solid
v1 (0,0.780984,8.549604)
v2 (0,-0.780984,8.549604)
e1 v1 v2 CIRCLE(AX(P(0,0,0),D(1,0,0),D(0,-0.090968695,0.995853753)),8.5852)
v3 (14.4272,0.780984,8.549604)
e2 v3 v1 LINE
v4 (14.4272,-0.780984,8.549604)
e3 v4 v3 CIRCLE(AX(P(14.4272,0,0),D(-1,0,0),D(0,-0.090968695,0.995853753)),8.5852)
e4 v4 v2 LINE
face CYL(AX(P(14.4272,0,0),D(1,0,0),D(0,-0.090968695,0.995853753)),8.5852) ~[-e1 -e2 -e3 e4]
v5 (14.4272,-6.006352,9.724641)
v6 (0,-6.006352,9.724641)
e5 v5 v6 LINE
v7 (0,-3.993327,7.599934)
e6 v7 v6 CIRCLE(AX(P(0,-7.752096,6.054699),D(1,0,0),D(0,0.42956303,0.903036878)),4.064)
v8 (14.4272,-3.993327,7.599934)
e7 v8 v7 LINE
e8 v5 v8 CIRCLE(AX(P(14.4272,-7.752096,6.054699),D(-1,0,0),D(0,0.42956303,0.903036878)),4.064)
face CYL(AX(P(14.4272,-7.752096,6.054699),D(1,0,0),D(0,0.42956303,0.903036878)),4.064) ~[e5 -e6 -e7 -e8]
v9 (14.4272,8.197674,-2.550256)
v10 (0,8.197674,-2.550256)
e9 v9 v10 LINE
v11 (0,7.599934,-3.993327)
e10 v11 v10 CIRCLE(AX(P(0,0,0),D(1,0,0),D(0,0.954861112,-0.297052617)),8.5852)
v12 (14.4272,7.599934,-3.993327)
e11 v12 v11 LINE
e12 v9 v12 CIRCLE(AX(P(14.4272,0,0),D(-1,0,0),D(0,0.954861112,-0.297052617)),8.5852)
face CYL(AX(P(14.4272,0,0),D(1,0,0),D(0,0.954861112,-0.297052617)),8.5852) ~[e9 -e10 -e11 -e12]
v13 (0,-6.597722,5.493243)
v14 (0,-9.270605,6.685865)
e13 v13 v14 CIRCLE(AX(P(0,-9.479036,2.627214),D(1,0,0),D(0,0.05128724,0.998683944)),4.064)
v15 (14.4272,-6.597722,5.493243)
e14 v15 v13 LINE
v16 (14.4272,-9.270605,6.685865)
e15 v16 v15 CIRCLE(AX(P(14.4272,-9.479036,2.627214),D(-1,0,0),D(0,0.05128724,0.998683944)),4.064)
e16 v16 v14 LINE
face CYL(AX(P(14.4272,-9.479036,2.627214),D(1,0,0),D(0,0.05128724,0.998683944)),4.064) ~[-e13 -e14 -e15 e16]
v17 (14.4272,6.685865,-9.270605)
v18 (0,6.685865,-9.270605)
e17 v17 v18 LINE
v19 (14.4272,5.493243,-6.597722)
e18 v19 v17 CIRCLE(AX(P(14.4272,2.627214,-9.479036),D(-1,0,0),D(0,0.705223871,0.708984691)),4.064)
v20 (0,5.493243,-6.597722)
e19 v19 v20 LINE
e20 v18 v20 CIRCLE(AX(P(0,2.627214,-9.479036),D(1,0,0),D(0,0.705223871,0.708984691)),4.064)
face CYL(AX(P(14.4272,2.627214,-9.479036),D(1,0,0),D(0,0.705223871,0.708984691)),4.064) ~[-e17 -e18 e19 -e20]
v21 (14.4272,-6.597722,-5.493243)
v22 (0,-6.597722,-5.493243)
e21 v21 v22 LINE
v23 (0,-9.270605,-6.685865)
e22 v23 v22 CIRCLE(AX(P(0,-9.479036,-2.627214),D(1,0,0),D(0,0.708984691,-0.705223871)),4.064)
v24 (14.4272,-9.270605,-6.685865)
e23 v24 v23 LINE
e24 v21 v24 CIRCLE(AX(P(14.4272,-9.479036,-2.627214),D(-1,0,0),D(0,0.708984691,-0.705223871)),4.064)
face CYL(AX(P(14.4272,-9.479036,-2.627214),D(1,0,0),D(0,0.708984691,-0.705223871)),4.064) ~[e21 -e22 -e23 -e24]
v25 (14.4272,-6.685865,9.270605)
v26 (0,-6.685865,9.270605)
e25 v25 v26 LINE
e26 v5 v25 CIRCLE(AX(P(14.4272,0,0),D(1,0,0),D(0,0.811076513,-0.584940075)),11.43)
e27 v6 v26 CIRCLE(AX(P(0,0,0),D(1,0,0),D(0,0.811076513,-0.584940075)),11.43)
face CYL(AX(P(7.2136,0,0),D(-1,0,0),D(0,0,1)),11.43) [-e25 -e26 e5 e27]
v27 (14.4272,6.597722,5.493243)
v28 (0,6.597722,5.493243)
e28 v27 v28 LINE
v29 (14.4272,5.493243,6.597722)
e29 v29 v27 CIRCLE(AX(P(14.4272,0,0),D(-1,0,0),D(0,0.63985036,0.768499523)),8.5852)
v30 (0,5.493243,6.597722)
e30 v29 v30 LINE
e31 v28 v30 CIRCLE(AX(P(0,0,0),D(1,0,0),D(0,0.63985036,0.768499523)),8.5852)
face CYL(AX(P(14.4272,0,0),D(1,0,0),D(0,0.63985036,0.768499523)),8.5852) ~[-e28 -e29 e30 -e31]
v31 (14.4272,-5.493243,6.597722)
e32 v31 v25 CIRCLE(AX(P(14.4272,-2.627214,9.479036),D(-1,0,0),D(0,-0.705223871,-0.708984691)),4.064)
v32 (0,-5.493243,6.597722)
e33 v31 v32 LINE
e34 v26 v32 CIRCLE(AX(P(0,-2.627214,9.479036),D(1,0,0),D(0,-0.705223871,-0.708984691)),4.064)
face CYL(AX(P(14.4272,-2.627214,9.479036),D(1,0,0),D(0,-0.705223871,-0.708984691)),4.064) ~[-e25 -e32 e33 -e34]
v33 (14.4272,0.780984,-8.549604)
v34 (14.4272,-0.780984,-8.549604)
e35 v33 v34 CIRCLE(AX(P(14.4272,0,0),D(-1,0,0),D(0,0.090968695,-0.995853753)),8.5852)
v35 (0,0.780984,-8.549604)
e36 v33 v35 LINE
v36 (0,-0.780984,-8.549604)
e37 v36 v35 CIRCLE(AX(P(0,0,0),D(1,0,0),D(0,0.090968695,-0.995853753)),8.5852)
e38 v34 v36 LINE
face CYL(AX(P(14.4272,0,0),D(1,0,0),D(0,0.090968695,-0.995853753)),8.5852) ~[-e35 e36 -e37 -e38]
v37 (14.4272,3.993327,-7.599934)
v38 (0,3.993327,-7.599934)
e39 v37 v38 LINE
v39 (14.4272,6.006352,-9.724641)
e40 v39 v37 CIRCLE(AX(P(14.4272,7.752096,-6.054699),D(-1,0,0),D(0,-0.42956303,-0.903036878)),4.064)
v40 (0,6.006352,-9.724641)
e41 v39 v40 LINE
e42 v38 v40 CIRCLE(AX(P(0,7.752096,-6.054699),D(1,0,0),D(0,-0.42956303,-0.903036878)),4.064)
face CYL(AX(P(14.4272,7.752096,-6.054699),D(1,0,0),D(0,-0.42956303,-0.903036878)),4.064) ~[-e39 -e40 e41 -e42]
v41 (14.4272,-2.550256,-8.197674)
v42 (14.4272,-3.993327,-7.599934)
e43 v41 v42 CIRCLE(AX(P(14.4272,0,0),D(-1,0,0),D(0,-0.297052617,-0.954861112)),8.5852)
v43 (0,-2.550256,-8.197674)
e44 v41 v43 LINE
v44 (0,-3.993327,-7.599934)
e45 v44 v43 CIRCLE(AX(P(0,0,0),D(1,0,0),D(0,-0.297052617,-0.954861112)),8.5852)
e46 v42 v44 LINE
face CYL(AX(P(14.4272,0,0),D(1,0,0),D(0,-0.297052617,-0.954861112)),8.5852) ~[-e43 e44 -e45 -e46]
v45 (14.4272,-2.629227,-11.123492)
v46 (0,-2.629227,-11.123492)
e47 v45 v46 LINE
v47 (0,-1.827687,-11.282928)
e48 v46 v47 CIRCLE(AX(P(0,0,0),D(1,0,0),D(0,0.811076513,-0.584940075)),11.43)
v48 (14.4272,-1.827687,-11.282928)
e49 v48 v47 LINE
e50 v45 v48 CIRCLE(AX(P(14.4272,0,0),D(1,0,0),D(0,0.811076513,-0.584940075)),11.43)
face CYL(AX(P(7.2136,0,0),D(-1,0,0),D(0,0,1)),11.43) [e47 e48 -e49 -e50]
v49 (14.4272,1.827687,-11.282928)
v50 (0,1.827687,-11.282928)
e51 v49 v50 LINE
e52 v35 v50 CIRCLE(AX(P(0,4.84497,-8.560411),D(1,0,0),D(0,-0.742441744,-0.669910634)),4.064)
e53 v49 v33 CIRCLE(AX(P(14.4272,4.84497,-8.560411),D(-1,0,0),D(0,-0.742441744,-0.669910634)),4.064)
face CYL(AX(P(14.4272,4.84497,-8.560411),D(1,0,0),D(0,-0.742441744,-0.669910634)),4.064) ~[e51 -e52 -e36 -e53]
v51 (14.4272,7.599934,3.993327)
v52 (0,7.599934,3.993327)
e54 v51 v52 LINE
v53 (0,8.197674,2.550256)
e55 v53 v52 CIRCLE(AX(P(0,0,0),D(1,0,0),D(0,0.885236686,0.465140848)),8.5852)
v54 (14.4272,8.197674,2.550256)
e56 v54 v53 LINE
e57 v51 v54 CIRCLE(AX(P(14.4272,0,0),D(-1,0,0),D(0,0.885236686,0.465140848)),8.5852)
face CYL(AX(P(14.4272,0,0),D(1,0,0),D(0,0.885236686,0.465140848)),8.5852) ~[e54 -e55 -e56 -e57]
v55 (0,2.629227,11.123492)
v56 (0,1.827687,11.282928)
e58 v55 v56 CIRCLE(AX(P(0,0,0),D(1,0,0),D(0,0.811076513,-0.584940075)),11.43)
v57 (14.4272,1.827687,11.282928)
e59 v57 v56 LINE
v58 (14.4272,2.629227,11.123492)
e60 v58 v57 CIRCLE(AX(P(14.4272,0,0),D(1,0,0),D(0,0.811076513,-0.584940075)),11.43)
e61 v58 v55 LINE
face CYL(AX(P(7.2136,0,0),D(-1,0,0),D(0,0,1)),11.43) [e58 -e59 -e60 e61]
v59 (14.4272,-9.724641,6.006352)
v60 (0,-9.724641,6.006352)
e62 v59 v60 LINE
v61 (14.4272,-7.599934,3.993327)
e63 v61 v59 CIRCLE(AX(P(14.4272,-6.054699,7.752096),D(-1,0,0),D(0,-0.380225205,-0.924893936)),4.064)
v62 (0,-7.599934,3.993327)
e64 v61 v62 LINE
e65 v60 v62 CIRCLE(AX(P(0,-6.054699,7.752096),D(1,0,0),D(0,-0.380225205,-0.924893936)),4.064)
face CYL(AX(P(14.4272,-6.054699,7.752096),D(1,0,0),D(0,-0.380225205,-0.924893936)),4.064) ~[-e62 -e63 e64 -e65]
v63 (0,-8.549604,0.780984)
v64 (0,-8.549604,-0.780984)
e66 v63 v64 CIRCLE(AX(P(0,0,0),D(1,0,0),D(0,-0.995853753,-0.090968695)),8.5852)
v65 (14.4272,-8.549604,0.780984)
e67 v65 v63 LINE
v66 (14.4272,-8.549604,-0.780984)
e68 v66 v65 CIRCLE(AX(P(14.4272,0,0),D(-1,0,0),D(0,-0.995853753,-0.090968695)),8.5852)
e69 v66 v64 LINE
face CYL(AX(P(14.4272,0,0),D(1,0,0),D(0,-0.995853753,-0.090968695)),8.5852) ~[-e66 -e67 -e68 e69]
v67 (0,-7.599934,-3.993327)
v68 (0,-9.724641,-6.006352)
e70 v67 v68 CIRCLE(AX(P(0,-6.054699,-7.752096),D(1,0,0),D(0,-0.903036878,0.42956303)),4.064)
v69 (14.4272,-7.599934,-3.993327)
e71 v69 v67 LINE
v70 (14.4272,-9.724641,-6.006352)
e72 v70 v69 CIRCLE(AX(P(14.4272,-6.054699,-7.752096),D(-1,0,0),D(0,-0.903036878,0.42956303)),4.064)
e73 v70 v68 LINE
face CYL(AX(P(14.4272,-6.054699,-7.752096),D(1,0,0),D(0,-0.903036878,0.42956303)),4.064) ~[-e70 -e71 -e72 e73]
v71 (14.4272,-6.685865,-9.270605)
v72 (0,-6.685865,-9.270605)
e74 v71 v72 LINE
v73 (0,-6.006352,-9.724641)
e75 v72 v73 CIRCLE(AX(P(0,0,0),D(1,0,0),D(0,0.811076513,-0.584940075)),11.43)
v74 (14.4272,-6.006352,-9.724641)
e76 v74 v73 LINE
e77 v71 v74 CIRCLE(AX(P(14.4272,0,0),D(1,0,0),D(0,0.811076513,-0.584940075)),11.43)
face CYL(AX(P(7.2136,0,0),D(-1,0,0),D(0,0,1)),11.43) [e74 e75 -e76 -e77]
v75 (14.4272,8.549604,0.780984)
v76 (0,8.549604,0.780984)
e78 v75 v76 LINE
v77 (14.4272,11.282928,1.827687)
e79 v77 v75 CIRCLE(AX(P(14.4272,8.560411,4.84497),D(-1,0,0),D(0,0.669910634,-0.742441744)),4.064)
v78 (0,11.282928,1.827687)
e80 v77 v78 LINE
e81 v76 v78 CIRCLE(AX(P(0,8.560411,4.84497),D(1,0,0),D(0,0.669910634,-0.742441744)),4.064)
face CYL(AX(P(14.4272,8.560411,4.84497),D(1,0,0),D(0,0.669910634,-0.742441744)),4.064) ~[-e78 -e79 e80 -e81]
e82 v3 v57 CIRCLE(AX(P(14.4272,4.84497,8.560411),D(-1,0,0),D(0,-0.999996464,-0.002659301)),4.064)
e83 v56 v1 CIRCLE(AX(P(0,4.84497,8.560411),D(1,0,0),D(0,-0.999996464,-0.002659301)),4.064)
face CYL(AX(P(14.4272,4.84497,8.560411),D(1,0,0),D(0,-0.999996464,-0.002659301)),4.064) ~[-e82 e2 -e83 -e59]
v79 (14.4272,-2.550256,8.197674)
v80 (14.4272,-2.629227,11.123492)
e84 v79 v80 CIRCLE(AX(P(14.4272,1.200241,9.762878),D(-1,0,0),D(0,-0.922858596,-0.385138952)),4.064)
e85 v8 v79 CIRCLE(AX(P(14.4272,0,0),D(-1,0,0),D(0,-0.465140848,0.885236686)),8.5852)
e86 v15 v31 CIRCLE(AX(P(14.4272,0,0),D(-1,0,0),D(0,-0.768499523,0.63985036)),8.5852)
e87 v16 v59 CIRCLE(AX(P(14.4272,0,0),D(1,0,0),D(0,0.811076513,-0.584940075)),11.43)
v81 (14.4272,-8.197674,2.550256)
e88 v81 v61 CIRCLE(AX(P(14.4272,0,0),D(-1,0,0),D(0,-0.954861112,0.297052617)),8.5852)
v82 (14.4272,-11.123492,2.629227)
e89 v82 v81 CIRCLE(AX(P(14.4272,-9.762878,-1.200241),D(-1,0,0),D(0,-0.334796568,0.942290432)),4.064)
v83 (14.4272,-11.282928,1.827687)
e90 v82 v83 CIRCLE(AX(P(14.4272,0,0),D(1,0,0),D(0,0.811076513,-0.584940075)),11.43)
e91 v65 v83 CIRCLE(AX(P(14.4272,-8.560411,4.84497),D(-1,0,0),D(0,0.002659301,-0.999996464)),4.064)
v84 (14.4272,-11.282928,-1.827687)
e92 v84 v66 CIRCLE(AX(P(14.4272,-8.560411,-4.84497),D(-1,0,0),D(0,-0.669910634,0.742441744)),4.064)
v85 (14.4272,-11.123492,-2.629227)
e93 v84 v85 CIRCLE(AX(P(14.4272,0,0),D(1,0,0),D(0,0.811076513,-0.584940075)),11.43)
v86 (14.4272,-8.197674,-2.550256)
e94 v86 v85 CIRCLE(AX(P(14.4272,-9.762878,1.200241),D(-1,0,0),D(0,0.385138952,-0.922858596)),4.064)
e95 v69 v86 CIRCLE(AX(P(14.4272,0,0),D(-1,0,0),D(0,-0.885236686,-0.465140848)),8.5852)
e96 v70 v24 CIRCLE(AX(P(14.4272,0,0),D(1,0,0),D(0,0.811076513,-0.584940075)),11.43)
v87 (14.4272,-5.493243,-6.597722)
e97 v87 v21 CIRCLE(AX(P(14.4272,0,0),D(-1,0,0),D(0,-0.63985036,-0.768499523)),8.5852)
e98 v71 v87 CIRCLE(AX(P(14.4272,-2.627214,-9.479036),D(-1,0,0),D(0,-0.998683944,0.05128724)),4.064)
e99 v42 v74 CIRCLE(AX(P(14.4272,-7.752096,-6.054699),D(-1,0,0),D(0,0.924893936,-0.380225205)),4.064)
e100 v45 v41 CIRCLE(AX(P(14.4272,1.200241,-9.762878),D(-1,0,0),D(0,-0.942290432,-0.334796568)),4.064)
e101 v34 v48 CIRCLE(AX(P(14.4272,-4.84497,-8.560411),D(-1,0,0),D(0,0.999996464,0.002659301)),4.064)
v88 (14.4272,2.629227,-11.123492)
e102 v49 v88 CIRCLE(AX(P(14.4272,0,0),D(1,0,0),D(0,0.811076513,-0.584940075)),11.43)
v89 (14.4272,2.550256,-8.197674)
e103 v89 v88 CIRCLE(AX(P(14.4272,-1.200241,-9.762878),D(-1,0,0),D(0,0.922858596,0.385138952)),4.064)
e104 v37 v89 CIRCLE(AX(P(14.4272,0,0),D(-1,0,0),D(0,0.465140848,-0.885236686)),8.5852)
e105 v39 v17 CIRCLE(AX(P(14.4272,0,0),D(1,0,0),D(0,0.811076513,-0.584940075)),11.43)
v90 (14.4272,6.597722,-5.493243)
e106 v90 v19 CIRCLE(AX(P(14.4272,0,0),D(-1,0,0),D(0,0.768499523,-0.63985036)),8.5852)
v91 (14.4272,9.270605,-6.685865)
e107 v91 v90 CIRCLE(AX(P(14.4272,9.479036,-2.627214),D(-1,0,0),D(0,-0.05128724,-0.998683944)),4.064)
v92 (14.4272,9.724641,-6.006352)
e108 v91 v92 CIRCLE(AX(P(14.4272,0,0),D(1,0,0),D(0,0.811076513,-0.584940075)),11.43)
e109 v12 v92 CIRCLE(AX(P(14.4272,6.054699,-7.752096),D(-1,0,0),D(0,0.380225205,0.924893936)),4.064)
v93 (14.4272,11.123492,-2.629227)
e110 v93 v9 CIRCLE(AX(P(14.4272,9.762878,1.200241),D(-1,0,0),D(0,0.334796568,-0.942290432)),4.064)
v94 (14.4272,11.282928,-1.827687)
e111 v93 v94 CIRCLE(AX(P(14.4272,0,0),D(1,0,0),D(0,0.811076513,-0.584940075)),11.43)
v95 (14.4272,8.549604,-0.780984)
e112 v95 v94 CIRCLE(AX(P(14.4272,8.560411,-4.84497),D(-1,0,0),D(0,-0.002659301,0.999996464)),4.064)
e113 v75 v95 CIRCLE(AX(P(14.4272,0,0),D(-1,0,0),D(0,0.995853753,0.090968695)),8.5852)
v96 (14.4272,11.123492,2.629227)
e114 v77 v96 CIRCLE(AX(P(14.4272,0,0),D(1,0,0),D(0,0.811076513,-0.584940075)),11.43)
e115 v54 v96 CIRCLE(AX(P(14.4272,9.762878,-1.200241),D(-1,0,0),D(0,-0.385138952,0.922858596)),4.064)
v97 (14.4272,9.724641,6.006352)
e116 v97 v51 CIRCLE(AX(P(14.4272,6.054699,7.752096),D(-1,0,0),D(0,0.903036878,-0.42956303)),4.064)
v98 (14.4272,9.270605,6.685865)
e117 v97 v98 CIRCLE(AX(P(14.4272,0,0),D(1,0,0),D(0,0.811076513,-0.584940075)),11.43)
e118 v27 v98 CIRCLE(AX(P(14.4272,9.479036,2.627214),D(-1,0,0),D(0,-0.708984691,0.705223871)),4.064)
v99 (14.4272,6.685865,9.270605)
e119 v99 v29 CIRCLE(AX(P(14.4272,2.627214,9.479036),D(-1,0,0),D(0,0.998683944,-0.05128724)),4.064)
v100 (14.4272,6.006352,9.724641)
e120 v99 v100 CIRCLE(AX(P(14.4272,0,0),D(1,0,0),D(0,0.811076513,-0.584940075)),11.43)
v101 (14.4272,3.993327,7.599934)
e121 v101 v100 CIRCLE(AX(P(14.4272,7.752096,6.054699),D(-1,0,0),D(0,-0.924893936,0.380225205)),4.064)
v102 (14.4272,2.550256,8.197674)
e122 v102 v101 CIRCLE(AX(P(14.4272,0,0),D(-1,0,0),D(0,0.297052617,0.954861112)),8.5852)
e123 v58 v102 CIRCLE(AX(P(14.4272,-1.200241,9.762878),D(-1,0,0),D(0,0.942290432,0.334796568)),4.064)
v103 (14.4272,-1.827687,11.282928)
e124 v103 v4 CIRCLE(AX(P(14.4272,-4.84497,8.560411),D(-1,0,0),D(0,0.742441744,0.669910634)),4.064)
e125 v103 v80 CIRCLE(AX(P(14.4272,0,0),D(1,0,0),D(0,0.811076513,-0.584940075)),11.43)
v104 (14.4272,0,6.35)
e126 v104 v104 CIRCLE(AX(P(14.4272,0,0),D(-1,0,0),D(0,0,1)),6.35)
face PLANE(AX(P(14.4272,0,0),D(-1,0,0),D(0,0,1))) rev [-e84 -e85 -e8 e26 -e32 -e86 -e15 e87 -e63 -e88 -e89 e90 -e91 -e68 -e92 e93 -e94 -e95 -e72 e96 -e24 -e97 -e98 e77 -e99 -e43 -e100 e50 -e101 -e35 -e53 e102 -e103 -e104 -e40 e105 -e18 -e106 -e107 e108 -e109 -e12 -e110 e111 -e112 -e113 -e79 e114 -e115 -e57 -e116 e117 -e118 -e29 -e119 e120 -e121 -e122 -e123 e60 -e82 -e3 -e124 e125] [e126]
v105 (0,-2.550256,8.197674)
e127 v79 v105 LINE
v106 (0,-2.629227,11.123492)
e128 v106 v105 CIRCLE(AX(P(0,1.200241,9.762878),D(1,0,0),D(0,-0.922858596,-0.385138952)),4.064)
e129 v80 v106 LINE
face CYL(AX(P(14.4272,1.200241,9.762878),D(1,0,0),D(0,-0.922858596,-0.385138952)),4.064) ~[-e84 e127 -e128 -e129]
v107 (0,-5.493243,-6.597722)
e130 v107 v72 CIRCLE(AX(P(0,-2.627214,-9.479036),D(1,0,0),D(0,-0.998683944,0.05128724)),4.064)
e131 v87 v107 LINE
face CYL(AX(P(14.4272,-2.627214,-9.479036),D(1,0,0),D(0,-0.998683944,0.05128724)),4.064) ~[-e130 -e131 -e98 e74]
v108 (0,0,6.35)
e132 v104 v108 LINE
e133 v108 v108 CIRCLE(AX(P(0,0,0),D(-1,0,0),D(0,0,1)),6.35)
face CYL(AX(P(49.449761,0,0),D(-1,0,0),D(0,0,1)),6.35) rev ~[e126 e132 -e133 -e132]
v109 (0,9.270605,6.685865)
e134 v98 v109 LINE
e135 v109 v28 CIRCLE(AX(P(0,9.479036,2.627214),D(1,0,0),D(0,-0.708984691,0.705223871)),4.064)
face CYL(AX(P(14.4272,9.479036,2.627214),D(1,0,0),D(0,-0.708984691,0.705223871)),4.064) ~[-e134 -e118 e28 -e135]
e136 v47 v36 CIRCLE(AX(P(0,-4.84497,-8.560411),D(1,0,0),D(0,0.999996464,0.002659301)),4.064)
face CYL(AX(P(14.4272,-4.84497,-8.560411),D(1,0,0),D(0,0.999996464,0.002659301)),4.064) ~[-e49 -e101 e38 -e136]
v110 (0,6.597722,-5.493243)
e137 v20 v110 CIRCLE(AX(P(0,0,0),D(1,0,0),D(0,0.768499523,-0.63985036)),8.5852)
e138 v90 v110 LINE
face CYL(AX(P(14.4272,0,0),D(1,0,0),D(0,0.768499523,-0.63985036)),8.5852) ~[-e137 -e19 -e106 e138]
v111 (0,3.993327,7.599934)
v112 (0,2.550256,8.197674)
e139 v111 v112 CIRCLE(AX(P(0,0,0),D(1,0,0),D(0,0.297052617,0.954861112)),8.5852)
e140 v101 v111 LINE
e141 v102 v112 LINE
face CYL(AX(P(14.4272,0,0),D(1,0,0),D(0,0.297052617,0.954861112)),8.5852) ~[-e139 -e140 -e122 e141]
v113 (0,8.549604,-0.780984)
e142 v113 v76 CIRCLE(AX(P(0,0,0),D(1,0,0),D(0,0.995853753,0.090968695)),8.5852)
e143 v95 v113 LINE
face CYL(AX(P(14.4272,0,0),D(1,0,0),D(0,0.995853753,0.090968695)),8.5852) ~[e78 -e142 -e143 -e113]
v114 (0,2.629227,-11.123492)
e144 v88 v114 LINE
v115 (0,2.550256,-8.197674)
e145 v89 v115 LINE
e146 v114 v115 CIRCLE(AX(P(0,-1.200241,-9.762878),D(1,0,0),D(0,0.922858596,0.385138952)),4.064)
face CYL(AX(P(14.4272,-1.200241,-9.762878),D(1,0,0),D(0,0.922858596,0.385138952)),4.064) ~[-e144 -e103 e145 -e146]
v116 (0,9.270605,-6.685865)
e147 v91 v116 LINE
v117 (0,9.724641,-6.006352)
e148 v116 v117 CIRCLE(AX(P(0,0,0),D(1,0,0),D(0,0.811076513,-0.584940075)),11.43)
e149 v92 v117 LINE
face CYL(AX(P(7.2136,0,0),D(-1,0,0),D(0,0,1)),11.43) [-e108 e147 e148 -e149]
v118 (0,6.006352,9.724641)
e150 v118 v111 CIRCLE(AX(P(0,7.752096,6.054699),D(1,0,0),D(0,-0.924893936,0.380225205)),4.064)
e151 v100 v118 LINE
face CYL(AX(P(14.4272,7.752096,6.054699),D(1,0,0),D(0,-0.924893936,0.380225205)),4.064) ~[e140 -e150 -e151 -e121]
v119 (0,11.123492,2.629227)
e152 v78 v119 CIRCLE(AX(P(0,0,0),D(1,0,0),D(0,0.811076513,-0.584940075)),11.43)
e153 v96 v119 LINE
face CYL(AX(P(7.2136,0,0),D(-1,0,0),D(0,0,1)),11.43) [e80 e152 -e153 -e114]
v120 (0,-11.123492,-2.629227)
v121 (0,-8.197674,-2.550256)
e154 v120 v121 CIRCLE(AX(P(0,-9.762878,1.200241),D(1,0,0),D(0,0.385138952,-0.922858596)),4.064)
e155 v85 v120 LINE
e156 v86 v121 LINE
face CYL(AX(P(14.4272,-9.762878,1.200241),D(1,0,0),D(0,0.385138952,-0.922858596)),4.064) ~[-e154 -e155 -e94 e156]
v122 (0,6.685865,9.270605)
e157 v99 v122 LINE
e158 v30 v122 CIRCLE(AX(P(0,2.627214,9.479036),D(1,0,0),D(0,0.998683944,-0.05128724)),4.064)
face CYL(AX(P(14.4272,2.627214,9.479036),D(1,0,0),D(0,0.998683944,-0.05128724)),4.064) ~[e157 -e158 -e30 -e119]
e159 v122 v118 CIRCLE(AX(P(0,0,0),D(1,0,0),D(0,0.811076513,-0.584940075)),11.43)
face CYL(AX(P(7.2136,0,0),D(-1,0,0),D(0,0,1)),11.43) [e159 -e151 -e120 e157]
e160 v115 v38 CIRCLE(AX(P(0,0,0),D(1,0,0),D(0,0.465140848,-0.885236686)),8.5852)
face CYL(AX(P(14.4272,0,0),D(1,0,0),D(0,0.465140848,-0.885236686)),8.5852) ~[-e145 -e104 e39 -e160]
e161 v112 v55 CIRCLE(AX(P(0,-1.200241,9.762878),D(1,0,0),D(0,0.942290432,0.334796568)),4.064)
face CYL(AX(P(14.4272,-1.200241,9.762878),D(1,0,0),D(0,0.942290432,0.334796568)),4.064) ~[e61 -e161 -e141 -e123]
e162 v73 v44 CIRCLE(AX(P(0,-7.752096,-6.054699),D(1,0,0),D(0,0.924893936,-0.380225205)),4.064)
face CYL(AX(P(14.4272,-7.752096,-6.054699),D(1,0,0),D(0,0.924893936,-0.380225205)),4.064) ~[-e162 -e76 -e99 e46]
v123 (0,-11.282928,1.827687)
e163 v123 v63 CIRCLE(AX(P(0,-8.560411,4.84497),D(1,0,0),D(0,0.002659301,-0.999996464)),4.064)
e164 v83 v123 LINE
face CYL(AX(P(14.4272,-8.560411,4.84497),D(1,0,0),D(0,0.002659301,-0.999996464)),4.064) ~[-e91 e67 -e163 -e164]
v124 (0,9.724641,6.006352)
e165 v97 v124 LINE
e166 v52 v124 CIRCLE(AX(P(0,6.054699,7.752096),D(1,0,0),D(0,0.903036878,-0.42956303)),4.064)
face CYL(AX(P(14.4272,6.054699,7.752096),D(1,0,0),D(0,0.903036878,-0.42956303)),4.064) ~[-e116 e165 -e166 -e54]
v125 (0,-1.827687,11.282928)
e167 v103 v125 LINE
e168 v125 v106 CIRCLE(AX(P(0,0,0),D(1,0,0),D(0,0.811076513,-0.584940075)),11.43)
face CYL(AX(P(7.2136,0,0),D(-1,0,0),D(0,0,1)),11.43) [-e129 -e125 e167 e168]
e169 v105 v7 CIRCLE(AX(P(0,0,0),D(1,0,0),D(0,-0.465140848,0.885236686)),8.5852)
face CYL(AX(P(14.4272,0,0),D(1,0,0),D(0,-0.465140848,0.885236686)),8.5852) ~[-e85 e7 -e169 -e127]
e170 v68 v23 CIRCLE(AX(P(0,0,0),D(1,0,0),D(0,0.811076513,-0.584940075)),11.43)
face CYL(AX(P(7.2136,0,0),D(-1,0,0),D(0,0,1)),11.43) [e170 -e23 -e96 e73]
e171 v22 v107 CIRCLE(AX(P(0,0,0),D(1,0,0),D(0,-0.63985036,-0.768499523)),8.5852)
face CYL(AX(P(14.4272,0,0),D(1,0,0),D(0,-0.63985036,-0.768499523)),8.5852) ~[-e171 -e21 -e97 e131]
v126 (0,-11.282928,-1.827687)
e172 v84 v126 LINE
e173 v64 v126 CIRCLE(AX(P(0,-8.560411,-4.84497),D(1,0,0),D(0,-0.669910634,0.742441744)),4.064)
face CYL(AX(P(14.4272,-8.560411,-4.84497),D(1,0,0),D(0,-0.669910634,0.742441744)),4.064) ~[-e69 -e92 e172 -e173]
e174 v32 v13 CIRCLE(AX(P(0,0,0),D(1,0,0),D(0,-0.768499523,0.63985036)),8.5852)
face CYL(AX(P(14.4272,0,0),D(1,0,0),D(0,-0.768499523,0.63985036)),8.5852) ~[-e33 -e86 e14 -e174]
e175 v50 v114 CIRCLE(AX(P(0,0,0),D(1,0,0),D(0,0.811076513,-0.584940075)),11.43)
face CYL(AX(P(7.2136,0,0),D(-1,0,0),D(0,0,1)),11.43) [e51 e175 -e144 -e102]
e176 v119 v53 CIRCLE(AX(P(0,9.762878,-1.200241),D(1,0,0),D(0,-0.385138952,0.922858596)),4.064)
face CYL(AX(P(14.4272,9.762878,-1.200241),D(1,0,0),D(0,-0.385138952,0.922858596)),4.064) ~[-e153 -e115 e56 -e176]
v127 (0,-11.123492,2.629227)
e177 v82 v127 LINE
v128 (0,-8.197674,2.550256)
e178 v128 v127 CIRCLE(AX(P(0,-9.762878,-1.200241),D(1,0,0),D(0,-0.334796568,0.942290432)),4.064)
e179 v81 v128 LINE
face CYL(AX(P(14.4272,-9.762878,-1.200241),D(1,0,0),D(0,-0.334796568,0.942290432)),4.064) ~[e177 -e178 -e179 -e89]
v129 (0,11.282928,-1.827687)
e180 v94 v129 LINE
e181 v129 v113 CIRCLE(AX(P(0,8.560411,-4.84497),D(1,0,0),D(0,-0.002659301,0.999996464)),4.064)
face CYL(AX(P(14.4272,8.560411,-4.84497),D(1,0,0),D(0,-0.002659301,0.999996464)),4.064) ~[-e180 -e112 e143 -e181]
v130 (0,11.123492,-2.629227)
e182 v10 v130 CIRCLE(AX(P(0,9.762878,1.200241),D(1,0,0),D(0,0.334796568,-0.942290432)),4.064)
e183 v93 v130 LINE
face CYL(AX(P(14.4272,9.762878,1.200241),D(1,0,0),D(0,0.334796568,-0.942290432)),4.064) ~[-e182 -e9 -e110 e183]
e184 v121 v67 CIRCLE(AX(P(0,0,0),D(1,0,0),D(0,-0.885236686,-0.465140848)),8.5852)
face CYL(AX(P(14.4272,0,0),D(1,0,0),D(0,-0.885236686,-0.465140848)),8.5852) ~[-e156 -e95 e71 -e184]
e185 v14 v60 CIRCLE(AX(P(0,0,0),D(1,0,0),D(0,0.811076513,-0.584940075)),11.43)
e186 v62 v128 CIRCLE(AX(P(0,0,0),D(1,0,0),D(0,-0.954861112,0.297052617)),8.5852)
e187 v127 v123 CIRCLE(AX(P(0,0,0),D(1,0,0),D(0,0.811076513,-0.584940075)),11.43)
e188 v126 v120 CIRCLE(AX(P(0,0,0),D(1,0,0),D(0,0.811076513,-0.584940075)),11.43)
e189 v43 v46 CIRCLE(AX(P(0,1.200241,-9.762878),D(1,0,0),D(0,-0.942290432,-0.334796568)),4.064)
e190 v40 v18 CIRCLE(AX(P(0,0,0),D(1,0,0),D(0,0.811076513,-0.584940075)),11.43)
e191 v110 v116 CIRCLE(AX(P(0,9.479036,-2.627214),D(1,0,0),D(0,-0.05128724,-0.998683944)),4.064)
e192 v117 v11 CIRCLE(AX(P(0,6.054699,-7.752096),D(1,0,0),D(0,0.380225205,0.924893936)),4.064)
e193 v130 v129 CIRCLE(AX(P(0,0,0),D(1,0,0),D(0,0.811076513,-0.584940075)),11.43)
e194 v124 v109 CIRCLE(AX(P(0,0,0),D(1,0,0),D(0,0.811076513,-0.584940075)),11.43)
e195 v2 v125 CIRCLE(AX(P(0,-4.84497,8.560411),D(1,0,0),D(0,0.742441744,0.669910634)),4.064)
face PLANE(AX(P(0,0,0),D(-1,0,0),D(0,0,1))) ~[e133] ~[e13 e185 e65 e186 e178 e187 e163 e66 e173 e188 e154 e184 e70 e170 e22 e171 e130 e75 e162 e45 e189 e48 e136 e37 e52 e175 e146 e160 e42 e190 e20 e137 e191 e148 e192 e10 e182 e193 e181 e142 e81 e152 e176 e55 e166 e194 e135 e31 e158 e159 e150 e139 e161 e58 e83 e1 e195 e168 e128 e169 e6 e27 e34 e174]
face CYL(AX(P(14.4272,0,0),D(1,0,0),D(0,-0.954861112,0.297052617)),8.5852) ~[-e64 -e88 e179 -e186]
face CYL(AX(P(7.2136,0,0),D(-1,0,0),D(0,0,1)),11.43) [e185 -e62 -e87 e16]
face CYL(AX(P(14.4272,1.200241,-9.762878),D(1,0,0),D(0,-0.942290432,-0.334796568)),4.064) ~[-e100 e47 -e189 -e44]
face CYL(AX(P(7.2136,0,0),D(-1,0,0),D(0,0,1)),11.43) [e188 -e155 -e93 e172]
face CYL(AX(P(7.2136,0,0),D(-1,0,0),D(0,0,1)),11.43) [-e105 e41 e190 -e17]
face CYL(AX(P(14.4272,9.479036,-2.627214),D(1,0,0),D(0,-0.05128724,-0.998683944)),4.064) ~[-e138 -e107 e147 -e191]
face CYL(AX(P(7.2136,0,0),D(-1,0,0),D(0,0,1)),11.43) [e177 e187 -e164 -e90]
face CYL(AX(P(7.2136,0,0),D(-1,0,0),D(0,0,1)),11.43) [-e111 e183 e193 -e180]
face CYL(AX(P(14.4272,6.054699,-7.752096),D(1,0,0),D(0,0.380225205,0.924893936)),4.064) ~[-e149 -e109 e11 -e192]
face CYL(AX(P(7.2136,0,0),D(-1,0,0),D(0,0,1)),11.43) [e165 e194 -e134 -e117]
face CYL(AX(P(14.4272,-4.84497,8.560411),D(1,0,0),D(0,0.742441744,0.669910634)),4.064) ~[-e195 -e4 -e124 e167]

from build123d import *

# Parameters (mm, degrees)
SKETCH1_W                   = 14.4272
SKETCH1_H                   = 11.43
CUT_EXTRUDE1_DEPTH          = 22.666423328
CUT_EXTRUDE2_DEPTH          = 22.666423328
CUT_EXTRUDE3_DEPTH          = 22.666423328
CUT_EXTRUDE4_DEPTH          = 22.666423328
CUT_EXTRUDE5_DEPTH          = 22.666423328
CUT_EXTRUDE6_DEPTH          = 22.666423328
CUT_EXTRUDE7_DEPTH          = 22.666423328
CUT_EXTRUDE8_DEPTH          = 22.666423328
CUT_EXTRUDE9_DEPTH          = 22.666423328
CUT_EXTRUDE10_DEPTH         = 22.666423328
CUT_EXTRUDE11_DEPTH         = 22.666423328
CUT_EXTRUDE12_DEPTH         = 22.589197779
CUT_EXTRUDE13_DEPTH         = 22.589197779
CUT_EXTRUDE14_DEPTH         = 22.589197779
CUT_EXTRUDE15_DEPTH         = 22.589197779
CUT_EXTRUDE16_DEPTH         = 22.511694997
F_1_4_0_25_DIAMETER_HOLE1_D = 12.7


with BuildPart() as part:
    # Sketch1 → Revolve1 (revolve)
    with BuildSketch(Plane(origin=(0, 0, 0), x_dir=(-1, 0, 0), z_dir=(0, 0, -1)), mode=Mode.PRIVATE) as revolve1_sk:
        with Locations((-7.2136, 5.715)):
            Rectangle(SKETCH1_W, SKETCH1_H)
    revolve(revolve1_sk.sketch.rotate(Axis((14.4272, 0, 0), (-1, 0, 0)), 270), axis=Axis((14.4272, 0, 0), (-1, 0, 0)))

    # Sketch2 → Cut-Extrude1 (cut, through all)
    with BuildSketch(Plane(origin=(14.4272, 0, 0), x_dir=(0, 0, -1), z_dir=(1, 0, 0))):
        with BuildLine():
            ThreePointArc((9.270604538, 6.685865052), (8.082230509, 8.082230509), (6.685865052, 9.270604538))
            ThreePointArc((6.685865052, 9.270604538), (6.338531077, 7.823071544), (5.493243318, 6.597722098))
            ThreePointArc((5.493243318, 6.597722098), (6.070653138, 6.070653138), (6.597722098, 5.493243318))
            ThreePointArc((6.597722098, 5.493243318), (7.823071544, 6.338531077), (9.270604538, 6.685865052))
        make_face()
    extrude(amount=-CUT_EXTRUDE1_DEPTH, mode=Mode.SUBTRACT)

    # Sketch3 → Cut-Extrude2 (cut, through all)
    with BuildSketch(Plane(origin=(14.4272, 0, 0), x_dir=(0, 0, -1), z_dir=(1, 0, 0))):
        with BuildLine():
            ThreePointArc((11.123491573, 2.629227114), (10.559943057, 4.374071632), (9.724640644, 6.006352))
            ThreePointArc((9.724640644, 6.006352), (8.849798999, 4.801924852), (7.599934007, 3.9933272))
            ThreePointArc((7.599934007, 3.9933272), (7.931690563, 3.285413804), (8.197673616, 2.550256131))
            ThreePointArc((8.197673616, 2.550256131), (9.65322651, 2.862279258), (11.123491573, 2.629227114))
        make_face()
    extrude(amount=-CUT_EXTRUDE2_DEPTH, mode=Mode.SUBTRACT)

    # Sketch4 → Cut-Extrude3 (cut, through all)
    with BuildSketch(Plane(origin=(14.4272, 0, 0), x_dir=(0, 0, -1), z_dir=(1, 0, 0))):
        with BuildLine():
            ThreePointArc((11.282927851, -1.827686818), (11.43, 0), (11.282927851, 1.827686818))
            ThreePointArc((11.282927851, 1.827686818), (10.013765246, 1.049728631), (8.549603637, 0.780984435))
            ThreePointArc((8.549603637, 0.780984435), (8.5852, 0), (8.549603637, -0.780984435))
            ThreePointArc((8.549603637, -0.780984435), (10.013765246, -1.049728631), (11.282927851, -1.827686818))
        make_face()
    extrude(amount=-CUT_EXTRUDE3_DEPTH, mode=Mode.SUBTRACT)

    # Sketch5 → Cut-Extrude4 (cut, through all)
    with BuildSketch(Plane(origin=(14.4272, 0, 0), x_dir=(0, 0, -1), z_dir=(1, 0, 0))):
        with BuildLine():
            ThreePointArc((9.724640644, -6.006352), (10.559943057, -4.374071632), (11.123491573, -2.629227114))
            ThreePointArc((11.123491573, -2.629227114), (9.65322651, -2.862279258), (8.197673616, -2.550256131))
            ThreePointArc((8.197673616, -2.550256131), (7.931690563, -3.285413804), (7.599934007, -3.9933272))
            ThreePointArc((7.599934007, -3.9933272), (8.849798999, -4.801924852), (9.724640644, -6.006352))
        make_face()
    extrude(amount=-CUT_EXTRUDE4_DEPTH, mode=Mode.SUBTRACT)

    # Sketch6 → Cut-Extrude5 (cut, through all)
    with BuildSketch(Plane(origin=(14.4272, 0, 0), x_dir=(0, 0, -1), z_dir=(1, 0, 0))):
        with BuildLine():
            ThreePointArc((6.685865052, -9.270604538), (8.082230509, -8.082230509), (9.270604538, -6.685865052))
            ThreePointArc((9.270604538, -6.685865052), (7.823071544, -6.338531077), (6.597722098, -5.493243318))
            ThreePointArc((6.597722098, -5.493243318), (6.070653138, -6.070653138), (5.493243318, -6.597722098))
            ThreePointArc((5.493243318, -6.597722098), (6.338531077, -7.823071544), (6.685865052, -9.270604538))
        make_face()
    extrude(amount=-CUT_EXTRUDE5_DEPTH, mode=Mode.SUBTRACT)

    # Sketch7 → Cut-Extrude6 (cut, through all)
    with BuildSketch(Plane(origin=(14.4272, 0, 0), x_dir=(0, 0, -1), z_dir=(1, 0, 0))):
        with BuildLine():
            ThreePointArc((2.629227114, -11.123491573), (4.374071632, -10.559943057), (6.006352, -9.724640644))
            ThreePointArc((6.006352, -9.724640644), (4.801924852, -8.849798999), (3.9933272, -7.599934007))
            ThreePointArc((3.9933272, -7.599934007), (3.285413804, -7.931690563), (2.550256131, -8.197673616))
            ThreePointArc((2.550256131, -8.197673616), (2.862279258, -9.65322651), (2.629227114, -11.123491573))
        make_face()
    extrude(amount=-CUT_EXTRUDE6_DEPTH, mode=Mode.SUBTRACT)

    # Sketch8 → Cut-Extrude7 (cut, through all)
    with BuildSketch(Plane(origin=(14.4272, 0, 0), x_dir=(0, 0, -1), z_dir=(1, 0, 0))):
        with BuildLine():
            ThreePointArc((-1.827686818, -11.282927851), (0, -11.43), (1.827686818, -11.282927851))
            ThreePointArc((1.827686818, -11.282927851), (1.049728631, -10.013765246), (0.780984435, -8.549603637))
            ThreePointArc((0.780984435, -8.549603637), (0, -8.5852), (-0.780984435, -8.549603637))
            ThreePointArc((-0.780984435, -8.549603637), (-1.049728631, -10.013765246), (-1.827686818, -11.282927851))
        make_face()
    extrude(amount=-CUT_EXTRUDE7_DEPTH, mode=Mode.SUBTRACT)

    # Sketch9 → Cut-Extrude8 (cut, through all)
    with BuildSketch(Plane(origin=(14.4272, 0, 0), x_dir=(0, 0, -1), z_dir=(1, 0, 0))):
        with BuildLine():
            ThreePointArc((-6.006352, -9.724640644), (-4.374071632, -10.559943057), (-2.629227114, -11.123491573))
            ThreePointArc((-2.629227114, -11.123491573), (-2.862279258, -9.65322651), (-2.550256131, -8.197673616))
            ThreePointArc((-2.550256131, -8.197673616), (-3.285413804, -7.931690563), (-3.9933272, -7.599934007))
            ThreePointArc((-3.9933272, -7.599934007), (-4.801924852, -8.849798999), (-6.006352, -9.724640644))
        make_face()
    extrude(amount=-CUT_EXTRUDE8_DEPTH, mode=Mode.SUBTRACT)

    # Sketch10 → Cut-Extrude9 (cut, through all)
    with BuildSketch(Plane(origin=(14.4272, 0, 0), x_dir=(0, 0, -1), z_dir=(1, 0, 0))):
        with BuildLine():
            ThreePointArc((-9.270604538, -6.685865052), (-8.082230509, -8.082230509), (-6.685865052, -9.270604538))
            ThreePointArc((-6.685865052, -9.270604538), (-6.338531077, -7.823071544), (-5.493243318, -6.597722098))
            ThreePointArc((-5.493243318, -6.597722098), (-6.070653138, -6.070653138), (-6.597722098, -5.493243318))
            ThreePointArc((-6.597722098, -5.493243318), (-7.823071544, -6.338531077), (-9.270604538, -6.685865052))
        make_face()
    extrude(amount=-CUT_EXTRUDE9_DEPTH, mode=Mode.SUBTRACT)

    # Sketch11 → Cut-Extrude10 (cut, through all)
    with BuildSketch(Plane(origin=(14.4272, 0, 0), x_dir=(0, 0, -1), z_dir=(1, 0, 0))):
        with BuildLine():
            ThreePointArc((-11.123491573, -2.629227114), (-10.559943057, -4.374071632), (-9.724640644, -6.006352))
            ThreePointArc((-9.724640644, -6.006352), (-8.849798999, -4.801924852), (-7.599934007, -3.9933272))
            ThreePointArc((-7.599934007, -3.9933272), (-7.931690563, -3.285413804), (-8.197673616, -2.550256131))
            ThreePointArc((-8.197673616, -2.550256131), (-9.65322651, -2.862279258), (-11.123491573, -2.629227114))
        make_face()
    extrude(amount=-CUT_EXTRUDE10_DEPTH, mode=Mode.SUBTRACT)

    # Sketch12 → Cut-Extrude11 (cut, through all)
    with BuildSketch(Plane(origin=(14.4272, 0, 0), x_dir=(0, 0, -1), z_dir=(1, 0, 0))):
        with BuildLine():
            ThreePointArc((-11.282927851, 1.827686818), (-11.43, 0), (-11.282927851, -1.827686818))
            ThreePointArc((-11.282927851, -1.827686818), (-10.013765246, -1.049728631), (-8.549603637, -0.780984435))
            ThreePointArc((-8.549603637, -0.780984435), (-8.5852, 0), (-8.549603637, 0.780984435))
            ThreePointArc((-8.549603637, 0.780984435), (-10.013765246, 1.049728631), (-11.282927851, 1.827686818))
        make_face()
    extrude(amount=-CUT_EXTRUDE11_DEPTH, mode=Mode.SUBTRACT)

    # Sketch13 → Cut-Extrude12 (cut, through all)
    with BuildSketch(Plane(origin=(14.4272, 0, 0), x_dir=(0, 0, -1), z_dir=(1, 0, 0))):
        with BuildLine():
            ThreePointArc((-9.724640644, 6.006352), (-10.559943057, 4.374071632), (-11.123491573, 2.629227114))
            ThreePointArc((-11.123491573, 2.629227114), (-9.65322651, 2.862279258), (-8.197673616, 2.550256131))
            ThreePointArc((-8.197673616, 2.550256131), (-7.931690563, 3.285413804), (-7.599934007, 3.9933272))
            ThreePointArc((-7.599934007, 3.9933272), (-8.849798999, 4.801924852), (-9.724640644, 6.006352))
        make_face()
    extrude(amount=-CUT_EXTRUDE12_DEPTH, mode=Mode.SUBTRACT)

    # Sketch14 → Cut-Extrude13 (cut, through all)
    with BuildSketch(Plane(origin=(14.4272, 0, 0), x_dir=(0, 0, -1), z_dir=(1, 0, 0))):
        with BuildLine():
            ThreePointArc((-6.685865052, 9.270604538), (-8.082230509, 8.082230509), (-9.270604538, 6.685865052))
            ThreePointArc((-9.270604538, 6.685865052), (-7.823071544, 6.338531077), (-6.597722098, 5.493243318))
            ThreePointArc((-6.597722098, 5.493243318), (-6.070653138, 6.070653138), (-5.493243318, 6.597722098))
            ThreePointArc((-5.493243318, 6.597722098), (-6.338531077, 7.823071544), (-6.685865052, 9.270604538))
        make_face()
    extrude(amount=-CUT_EXTRUDE13_DEPTH, mode=Mode.SUBTRACT)

    # Sketch15 → Cut-Extrude14 (cut, through all)
    with BuildSketch(Plane(origin=(14.4272, 0, 0), x_dir=(0, 0, -1), z_dir=(1, 0, 0))):
        with BuildLine():
            ThreePointArc((-2.629227114, 11.123491573), (-4.374071632, 10.559943057), (-6.006352, 9.724640644))
            ThreePointArc((-6.006352, 9.724640644), (-4.801924852, 8.849798999), (-3.9933272, 7.599934007))
            ThreePointArc((-3.9933272, 7.599934007), (-3.285413804, 7.931690563), (-2.550256131, 8.197673616))
            ThreePointArc((-2.550256131, 8.197673616), (-2.862279258, 9.65322651), (-2.629227114, 11.123491573))
        make_face()
    extrude(amount=-CUT_EXTRUDE14_DEPTH, mode=Mode.SUBTRACT)

    # Sketch16 → Cut-Extrude15 (cut, through all)
    with BuildSketch(Plane(origin=(14.4272, 0, 0), x_dir=(0, 0, -1), z_dir=(1, 0, 0))):
        with BuildLine():
            ThreePointArc((1.827686818, 11.282927851), (0, 11.43), (-1.827686818, 11.282927851))
            ThreePointArc((-1.827686818, 11.282927851), (-1.049728631, 10.013765246), (-0.780984435, 8.549603637))
            ThreePointArc((-0.780984435, 8.549603637), (0, 8.5852), (0.780984435, 8.549603637))
            ThreePointArc((0.780984435, 8.549603637), (1.049728631, 10.013765246), (1.827686818, 11.282927851))
        make_face()
    extrude(amount=-CUT_EXTRUDE15_DEPTH, mode=Mode.SUBTRACT)

    # Sketch17 → Cut-Extrude16 (cut, through all)
    with BuildSketch(Plane(origin=(14.4272, 0, 0), x_dir=(0, 0, -1), z_dir=(1, 0, 0))):
        with BuildLine():
            ThreePointArc((6.006352, 9.724640644), (4.374071632, 10.559943057), (2.629227114, 11.123491573))
            ThreePointArc((2.629227114, 11.123491573), (2.862279258, 9.65322651), (2.550256131, 8.197673616))
            ThreePointArc((2.550256131, 8.197673616), (3.285413804, 7.931690563), (3.9933272, 7.599934007))
            ThreePointArc((3.9933272, 7.599934007), (4.801924852, 8.849798999), (6.006352, 9.724640644))
        make_face()
    extrude(amount=-CUT_EXTRUDE16_DEPTH, mode=Mode.SUBTRACT)

    # 1/4 (0.25) Diameter Hole1 (through all)
    with Locations(Plane(origin=(14.4272, 0, 0), x_dir=(0, 0, -1), z_dir=(1, 0, 0))):
        with Locations((0, 0)):
            Hole(F_1_4_0_25_DIAMETER_HOLE1_D / 2)


solid = part.part
